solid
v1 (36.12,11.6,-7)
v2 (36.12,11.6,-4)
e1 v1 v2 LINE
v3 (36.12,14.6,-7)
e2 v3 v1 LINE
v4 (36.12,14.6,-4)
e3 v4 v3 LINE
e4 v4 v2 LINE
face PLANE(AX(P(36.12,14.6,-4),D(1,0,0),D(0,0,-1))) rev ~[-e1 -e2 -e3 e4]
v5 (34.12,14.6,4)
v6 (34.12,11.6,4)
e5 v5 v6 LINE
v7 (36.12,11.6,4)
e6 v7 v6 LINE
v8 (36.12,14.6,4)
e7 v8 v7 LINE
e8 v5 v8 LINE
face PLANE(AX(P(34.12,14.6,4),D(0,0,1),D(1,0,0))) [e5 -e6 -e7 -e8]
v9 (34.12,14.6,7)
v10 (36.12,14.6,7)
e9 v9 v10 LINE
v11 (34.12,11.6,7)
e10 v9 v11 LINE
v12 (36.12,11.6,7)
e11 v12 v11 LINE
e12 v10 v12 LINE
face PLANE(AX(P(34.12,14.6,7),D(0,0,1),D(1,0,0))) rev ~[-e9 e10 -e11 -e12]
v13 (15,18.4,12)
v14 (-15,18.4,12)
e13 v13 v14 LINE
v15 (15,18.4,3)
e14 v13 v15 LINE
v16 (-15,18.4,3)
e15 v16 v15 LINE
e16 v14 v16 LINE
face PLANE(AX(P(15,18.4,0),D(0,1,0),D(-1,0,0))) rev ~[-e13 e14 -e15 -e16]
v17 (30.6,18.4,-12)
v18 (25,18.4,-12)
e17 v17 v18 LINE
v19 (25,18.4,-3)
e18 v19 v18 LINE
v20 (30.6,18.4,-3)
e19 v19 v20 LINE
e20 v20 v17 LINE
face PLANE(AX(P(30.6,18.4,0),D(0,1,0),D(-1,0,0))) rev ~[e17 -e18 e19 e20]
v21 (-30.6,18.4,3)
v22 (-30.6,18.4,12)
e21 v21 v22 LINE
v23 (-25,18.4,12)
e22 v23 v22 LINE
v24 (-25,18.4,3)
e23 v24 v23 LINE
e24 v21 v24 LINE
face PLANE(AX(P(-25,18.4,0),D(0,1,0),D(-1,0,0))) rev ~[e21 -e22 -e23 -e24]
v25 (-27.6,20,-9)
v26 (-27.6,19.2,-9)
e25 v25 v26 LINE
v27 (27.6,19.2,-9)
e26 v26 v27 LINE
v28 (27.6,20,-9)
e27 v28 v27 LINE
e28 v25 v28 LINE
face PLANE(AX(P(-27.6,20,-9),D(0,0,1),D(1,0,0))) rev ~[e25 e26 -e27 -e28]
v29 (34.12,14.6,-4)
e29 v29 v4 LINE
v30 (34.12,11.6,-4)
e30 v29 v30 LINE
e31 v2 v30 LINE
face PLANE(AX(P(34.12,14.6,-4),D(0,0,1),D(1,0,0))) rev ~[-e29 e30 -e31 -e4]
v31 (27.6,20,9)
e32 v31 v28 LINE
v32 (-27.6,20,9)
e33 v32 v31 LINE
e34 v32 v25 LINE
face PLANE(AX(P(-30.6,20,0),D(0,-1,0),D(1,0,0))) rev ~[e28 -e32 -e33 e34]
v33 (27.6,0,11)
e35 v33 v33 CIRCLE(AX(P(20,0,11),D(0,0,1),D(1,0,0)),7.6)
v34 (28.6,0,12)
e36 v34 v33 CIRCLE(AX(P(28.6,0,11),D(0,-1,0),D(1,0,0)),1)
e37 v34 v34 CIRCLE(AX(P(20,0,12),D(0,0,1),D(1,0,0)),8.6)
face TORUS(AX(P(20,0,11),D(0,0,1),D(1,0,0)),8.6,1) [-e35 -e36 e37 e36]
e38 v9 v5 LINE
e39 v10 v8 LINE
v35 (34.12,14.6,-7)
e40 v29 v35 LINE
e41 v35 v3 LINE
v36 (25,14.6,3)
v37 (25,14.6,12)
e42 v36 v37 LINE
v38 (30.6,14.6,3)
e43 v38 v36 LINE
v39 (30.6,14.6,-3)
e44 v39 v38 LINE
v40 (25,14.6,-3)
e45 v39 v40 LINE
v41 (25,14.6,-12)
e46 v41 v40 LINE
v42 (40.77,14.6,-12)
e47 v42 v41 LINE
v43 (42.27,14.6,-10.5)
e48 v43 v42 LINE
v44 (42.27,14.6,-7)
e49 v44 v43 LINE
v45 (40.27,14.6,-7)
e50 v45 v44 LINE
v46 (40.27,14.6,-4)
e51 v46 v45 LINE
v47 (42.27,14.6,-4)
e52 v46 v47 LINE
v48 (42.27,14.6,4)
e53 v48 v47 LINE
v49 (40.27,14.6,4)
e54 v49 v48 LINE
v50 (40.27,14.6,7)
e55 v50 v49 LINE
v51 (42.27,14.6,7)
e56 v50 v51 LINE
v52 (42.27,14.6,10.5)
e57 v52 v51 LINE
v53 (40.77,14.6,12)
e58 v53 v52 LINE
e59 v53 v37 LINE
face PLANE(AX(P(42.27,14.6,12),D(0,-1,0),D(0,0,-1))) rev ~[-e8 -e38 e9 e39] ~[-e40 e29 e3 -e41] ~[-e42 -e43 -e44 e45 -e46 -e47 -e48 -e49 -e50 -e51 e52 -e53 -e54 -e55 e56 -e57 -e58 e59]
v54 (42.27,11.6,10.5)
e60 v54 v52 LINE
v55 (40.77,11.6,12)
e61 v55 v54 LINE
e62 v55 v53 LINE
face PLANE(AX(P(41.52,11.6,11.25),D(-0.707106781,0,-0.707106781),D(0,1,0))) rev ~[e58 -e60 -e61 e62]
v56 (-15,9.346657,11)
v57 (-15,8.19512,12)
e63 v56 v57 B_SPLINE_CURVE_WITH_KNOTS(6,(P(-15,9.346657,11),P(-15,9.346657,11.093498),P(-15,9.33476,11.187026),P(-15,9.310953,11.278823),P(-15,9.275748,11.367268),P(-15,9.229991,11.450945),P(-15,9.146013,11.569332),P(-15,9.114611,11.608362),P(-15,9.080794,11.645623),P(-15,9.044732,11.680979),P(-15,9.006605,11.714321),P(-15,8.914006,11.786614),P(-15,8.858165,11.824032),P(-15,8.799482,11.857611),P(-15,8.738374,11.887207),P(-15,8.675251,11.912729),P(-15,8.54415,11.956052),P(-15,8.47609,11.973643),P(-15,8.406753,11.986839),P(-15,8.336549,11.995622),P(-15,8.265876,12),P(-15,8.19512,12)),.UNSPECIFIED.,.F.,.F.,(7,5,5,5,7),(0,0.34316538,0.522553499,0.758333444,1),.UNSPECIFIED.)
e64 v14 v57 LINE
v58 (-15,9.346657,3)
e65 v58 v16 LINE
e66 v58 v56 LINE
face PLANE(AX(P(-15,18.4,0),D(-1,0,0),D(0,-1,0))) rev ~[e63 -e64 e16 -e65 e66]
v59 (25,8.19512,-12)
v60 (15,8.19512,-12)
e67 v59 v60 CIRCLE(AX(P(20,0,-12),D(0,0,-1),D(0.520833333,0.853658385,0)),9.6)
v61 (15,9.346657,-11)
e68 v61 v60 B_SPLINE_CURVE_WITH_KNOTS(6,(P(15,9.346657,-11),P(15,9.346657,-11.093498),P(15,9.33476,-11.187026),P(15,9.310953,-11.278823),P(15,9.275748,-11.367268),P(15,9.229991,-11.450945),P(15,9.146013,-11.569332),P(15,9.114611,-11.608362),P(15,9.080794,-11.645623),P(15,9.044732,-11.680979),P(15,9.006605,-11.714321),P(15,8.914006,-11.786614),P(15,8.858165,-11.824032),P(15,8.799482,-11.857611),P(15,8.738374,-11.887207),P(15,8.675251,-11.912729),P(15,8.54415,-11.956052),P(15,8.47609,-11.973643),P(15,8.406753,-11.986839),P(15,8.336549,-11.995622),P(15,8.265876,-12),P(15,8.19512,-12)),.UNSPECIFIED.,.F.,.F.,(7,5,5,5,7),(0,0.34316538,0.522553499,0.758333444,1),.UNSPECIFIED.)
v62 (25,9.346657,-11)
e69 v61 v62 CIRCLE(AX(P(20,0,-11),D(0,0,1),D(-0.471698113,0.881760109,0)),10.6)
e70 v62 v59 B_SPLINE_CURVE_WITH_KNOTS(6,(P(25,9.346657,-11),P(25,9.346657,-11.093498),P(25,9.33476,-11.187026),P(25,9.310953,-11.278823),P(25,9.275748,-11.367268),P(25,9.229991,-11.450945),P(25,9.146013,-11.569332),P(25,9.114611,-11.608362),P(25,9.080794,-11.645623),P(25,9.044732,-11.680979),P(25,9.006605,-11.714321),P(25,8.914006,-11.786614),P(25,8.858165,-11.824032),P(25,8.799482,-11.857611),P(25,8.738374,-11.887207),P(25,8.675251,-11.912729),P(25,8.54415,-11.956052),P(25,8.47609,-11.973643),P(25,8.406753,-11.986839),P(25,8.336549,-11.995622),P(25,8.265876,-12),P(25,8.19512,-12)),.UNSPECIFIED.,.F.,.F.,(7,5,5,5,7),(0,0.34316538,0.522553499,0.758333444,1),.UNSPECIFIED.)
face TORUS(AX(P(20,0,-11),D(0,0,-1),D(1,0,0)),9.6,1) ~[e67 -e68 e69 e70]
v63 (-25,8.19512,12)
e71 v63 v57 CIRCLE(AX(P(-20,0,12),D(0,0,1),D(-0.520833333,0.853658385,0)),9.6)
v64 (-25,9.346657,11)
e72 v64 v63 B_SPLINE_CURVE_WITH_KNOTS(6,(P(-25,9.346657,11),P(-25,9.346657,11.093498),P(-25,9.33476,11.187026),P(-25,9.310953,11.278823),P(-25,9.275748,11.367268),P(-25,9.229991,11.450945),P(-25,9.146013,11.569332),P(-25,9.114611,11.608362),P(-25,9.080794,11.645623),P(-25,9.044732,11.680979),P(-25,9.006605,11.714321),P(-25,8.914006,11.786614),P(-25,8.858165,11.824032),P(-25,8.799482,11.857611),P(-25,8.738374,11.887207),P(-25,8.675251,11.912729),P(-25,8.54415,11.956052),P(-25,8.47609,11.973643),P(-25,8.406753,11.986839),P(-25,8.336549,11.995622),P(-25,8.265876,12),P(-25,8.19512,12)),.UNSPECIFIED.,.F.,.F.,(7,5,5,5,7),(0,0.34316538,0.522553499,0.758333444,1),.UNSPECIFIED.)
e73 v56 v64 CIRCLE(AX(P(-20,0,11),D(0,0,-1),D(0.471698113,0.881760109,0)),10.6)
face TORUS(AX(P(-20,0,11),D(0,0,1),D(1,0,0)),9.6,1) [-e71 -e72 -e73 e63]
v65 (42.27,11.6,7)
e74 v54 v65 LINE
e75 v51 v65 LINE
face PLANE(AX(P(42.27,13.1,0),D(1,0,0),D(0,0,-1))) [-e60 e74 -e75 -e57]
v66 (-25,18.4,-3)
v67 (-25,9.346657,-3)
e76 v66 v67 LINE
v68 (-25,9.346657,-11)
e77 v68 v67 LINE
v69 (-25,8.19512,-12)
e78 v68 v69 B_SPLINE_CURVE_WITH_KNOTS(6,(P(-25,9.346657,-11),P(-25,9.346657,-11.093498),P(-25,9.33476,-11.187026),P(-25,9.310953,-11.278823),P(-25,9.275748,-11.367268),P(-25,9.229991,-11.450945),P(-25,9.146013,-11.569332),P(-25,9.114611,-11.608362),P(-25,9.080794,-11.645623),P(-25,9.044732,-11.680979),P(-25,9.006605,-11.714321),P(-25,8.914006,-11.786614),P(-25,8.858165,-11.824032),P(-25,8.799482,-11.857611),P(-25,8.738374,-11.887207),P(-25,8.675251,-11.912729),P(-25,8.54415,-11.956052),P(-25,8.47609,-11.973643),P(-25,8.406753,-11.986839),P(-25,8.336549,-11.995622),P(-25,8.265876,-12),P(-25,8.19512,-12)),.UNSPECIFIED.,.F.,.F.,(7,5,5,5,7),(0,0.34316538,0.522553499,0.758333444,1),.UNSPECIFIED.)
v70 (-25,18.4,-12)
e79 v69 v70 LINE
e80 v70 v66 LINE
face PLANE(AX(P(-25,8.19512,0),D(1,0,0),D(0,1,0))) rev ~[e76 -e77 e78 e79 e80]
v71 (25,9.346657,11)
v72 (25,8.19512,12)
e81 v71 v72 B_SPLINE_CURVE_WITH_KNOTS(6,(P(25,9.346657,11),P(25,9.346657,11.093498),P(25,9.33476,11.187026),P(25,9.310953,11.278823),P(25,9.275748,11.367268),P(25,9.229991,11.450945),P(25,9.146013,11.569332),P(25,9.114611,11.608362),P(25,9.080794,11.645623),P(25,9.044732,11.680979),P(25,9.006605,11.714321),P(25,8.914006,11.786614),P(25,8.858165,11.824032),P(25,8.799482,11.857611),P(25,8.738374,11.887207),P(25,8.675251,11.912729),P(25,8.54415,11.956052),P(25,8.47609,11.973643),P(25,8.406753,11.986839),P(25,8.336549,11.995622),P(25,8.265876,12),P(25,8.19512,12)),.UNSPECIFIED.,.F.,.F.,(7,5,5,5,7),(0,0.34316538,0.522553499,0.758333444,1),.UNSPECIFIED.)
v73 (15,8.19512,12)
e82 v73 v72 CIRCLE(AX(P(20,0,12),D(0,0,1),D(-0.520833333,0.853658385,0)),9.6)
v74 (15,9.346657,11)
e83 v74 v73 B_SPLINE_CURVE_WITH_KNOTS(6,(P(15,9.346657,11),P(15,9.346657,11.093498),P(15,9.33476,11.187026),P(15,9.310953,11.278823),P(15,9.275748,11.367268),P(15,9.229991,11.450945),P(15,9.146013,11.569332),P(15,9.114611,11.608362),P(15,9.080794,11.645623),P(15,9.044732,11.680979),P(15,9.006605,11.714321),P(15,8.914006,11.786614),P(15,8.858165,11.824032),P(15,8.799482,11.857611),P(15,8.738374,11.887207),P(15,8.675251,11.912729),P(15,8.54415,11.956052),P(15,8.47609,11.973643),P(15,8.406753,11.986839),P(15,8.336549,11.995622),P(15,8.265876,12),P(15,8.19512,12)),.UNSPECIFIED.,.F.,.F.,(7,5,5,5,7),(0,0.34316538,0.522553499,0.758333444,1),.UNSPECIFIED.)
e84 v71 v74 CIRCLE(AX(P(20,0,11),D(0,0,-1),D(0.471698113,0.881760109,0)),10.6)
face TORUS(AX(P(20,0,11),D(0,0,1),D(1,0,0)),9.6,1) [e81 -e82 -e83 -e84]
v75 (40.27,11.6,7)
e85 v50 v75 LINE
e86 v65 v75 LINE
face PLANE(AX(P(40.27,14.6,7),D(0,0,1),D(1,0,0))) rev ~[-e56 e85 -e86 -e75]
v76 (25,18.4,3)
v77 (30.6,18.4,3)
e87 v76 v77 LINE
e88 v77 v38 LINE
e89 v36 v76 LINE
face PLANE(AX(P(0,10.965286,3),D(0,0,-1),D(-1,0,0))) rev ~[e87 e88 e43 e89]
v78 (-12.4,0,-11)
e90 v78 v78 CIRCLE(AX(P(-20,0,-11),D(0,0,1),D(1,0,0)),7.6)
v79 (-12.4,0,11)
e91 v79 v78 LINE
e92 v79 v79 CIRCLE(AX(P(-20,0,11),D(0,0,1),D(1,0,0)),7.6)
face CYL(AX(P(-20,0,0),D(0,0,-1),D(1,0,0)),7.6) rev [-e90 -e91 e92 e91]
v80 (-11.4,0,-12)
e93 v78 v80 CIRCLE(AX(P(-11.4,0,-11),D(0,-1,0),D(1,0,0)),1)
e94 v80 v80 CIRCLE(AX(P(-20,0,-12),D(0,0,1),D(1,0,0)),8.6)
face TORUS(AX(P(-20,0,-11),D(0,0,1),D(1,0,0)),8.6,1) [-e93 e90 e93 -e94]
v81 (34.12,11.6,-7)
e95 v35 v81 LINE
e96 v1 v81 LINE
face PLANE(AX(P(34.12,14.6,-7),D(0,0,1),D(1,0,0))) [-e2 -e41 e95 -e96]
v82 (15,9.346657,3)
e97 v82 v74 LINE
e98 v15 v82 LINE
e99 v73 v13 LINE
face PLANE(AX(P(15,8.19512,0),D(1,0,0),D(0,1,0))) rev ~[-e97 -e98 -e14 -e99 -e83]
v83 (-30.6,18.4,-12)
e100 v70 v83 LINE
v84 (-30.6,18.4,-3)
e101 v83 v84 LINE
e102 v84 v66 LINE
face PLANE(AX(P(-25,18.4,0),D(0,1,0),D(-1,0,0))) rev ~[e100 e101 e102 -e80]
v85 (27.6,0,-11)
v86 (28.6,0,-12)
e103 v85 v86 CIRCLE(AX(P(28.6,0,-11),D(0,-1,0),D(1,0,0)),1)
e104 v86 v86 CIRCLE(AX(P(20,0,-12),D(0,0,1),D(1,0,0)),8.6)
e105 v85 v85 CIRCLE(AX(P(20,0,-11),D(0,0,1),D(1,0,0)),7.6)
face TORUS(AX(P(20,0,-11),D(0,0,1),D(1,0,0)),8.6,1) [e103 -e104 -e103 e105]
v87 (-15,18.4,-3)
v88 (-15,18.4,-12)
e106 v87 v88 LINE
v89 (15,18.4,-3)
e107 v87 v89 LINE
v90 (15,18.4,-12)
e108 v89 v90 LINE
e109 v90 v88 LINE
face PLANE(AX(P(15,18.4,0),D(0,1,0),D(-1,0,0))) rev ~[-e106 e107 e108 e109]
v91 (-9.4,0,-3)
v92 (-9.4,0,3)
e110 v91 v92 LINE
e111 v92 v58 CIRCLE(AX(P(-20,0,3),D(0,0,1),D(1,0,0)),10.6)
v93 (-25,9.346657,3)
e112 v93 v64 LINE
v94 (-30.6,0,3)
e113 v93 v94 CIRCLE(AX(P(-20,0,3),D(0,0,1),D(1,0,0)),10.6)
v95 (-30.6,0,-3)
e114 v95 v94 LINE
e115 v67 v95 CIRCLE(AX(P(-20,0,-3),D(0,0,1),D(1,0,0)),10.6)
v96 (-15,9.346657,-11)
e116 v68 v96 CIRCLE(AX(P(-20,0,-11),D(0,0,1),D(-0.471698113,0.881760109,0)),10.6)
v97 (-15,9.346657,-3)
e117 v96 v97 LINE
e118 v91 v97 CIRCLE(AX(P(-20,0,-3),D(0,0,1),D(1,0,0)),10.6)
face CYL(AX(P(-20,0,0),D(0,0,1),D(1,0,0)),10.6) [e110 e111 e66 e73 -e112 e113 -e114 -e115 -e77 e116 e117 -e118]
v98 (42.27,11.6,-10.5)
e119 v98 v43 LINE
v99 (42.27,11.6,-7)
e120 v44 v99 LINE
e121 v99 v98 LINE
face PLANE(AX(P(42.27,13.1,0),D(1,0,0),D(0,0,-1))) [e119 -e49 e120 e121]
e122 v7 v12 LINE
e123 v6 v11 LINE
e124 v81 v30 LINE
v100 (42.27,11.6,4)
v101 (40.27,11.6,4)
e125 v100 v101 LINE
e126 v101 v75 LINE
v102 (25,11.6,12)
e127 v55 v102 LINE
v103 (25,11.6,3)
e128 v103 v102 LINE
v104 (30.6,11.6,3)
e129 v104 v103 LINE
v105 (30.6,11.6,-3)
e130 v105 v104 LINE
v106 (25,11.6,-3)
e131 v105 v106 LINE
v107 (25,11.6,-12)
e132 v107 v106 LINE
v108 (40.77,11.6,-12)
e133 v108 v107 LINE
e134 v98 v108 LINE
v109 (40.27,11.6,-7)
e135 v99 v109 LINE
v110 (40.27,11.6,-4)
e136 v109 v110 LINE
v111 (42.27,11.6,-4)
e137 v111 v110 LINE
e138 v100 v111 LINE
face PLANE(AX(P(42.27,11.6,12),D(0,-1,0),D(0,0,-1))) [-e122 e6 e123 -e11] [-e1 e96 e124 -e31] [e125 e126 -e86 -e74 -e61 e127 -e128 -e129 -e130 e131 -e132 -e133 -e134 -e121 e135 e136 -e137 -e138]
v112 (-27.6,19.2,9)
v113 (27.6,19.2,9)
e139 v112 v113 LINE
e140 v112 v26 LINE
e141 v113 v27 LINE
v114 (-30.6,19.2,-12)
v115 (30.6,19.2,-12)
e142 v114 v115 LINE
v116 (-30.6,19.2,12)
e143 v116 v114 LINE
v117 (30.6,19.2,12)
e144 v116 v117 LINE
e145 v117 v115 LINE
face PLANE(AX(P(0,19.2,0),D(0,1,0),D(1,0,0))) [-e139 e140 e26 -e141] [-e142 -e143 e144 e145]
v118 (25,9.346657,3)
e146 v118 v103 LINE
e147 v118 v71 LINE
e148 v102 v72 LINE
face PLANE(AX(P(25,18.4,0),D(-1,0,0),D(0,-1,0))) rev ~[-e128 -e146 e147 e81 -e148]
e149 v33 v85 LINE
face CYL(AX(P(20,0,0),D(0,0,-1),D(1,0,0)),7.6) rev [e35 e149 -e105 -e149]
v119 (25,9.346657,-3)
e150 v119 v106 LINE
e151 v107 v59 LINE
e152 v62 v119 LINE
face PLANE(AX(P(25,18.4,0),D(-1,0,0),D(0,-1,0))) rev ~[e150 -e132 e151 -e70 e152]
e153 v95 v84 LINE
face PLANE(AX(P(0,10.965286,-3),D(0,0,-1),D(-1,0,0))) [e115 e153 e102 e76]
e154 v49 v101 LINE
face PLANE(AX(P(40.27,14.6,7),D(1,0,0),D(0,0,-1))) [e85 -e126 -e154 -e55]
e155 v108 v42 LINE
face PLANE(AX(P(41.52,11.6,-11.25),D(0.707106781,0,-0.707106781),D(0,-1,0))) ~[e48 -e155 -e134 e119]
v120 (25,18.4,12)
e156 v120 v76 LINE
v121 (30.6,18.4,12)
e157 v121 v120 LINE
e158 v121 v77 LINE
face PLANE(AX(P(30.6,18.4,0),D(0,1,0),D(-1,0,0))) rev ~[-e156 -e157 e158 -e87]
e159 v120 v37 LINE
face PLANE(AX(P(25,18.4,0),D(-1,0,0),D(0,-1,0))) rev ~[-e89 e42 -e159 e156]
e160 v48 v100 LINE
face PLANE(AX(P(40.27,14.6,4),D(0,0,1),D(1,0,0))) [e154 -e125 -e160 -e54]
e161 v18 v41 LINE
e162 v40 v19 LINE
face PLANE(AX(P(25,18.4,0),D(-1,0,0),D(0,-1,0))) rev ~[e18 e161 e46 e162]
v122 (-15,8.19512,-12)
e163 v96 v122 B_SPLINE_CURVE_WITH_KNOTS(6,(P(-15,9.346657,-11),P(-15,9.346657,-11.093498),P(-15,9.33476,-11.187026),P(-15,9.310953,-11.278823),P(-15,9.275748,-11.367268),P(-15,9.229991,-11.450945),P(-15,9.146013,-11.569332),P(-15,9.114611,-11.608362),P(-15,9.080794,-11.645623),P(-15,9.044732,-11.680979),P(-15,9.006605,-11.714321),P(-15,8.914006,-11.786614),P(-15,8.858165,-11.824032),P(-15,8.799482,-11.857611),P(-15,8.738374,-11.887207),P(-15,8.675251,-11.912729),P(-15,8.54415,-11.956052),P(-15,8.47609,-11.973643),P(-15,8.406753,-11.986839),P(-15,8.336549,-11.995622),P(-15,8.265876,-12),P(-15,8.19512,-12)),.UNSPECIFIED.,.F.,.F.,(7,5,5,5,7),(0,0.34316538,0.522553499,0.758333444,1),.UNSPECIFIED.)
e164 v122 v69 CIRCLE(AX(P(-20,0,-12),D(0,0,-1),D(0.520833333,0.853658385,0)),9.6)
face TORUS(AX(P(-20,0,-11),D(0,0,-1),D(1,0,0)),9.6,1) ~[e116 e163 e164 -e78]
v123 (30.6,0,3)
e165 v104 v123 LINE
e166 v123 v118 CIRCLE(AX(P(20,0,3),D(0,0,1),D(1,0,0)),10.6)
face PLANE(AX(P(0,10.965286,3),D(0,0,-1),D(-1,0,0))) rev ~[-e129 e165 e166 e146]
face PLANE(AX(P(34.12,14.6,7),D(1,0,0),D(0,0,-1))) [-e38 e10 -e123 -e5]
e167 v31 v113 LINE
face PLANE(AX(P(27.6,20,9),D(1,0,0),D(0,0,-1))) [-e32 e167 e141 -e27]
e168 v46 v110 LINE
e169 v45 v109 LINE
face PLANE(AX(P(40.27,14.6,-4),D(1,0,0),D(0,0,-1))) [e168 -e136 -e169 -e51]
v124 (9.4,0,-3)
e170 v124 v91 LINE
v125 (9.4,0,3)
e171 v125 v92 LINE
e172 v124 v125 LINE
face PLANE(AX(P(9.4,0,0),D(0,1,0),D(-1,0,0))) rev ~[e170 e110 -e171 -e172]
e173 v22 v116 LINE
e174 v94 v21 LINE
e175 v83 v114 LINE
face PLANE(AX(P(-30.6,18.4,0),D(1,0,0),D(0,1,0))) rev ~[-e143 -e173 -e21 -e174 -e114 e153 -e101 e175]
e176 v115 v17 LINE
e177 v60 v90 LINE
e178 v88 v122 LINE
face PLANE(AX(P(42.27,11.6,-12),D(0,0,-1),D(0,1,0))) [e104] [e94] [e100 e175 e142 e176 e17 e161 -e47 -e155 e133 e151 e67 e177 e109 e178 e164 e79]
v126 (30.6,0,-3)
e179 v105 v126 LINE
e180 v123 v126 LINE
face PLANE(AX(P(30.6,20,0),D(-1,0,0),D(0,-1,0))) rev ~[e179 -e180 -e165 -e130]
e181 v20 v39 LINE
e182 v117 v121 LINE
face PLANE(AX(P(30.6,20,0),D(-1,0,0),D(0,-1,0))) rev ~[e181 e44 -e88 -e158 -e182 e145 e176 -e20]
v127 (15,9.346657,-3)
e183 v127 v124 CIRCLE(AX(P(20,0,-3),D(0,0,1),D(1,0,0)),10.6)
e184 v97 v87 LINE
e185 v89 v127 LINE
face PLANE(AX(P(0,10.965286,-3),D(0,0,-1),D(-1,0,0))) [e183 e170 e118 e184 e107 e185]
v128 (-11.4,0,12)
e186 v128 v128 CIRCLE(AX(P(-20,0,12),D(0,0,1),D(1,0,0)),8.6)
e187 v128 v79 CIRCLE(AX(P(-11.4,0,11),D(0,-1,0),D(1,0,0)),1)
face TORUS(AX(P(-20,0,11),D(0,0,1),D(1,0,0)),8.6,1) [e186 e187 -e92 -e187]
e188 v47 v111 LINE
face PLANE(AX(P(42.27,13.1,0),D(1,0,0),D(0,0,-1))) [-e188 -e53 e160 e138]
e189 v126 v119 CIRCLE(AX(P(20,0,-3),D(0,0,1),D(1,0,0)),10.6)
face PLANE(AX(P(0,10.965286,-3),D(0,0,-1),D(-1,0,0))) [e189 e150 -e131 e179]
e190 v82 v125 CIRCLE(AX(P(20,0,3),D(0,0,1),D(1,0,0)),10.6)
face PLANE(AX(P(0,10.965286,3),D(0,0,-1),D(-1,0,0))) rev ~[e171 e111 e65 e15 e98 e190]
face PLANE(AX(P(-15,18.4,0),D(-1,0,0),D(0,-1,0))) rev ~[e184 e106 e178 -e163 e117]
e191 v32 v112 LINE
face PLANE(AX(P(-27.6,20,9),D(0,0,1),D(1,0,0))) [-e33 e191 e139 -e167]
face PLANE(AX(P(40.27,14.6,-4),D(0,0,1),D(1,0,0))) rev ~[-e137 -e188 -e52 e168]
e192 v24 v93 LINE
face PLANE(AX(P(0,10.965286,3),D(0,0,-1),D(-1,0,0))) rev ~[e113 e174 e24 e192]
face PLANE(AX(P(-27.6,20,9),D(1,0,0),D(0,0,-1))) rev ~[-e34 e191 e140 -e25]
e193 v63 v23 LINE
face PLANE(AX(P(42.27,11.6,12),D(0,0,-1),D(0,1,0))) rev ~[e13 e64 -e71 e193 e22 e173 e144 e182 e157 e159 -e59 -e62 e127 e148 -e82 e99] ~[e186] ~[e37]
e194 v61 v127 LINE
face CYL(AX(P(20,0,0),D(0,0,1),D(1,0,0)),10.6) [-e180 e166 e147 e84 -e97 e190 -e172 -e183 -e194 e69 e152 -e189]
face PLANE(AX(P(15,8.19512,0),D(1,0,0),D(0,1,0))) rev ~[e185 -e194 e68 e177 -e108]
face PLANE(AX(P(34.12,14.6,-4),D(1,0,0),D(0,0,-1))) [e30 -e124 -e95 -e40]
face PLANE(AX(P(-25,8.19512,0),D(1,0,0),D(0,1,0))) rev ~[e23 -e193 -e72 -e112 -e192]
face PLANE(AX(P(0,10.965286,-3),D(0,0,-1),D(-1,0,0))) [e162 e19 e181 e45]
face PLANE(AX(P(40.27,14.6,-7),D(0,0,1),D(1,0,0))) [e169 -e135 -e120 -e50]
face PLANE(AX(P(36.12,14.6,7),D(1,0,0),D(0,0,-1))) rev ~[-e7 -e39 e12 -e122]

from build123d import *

# Parameters (mm, degrees)
ESBO_O1_R                  = 10.6
ESBO_O1_R_2                = 7.6
RESSALTO_EXTRUS_O1_DEPTH   = 12
RESSALTO_EXTRUS_O1_2_DEPTH = 12
FILETE1_R                  = 1
FILETE2_R                  = 1
RESSALTO_EXTRUS_O2_DEPTH   = 3
RESSALTO_EXTRUS_O3_DEPTH   = 12
ESBO_O5_W                  = 61.2
ESBO_O5_H                  = 24
ESBO_O5_W_2                = 55.2
ESBO_O5_H_2                = 18
CORTE_EXTRUS_O1_DEPTH      = 0.8
ESBO_O6_W                  = 24
ESBO_O6_H                  = 3
RESSALTO_EXTRUS_O4_DEPTH   = 22
ESBO_O9_W                  = 2
ESBO_O9_H                  = 3
CORTE_EXTRUS_O2_DEPTH      = 10
CHANFRO1_SIZE              = 1.5


with BuildPart() as part:
    # Esboço1 → Ressalto-extrusão1 (new, symmetric)
    with BuildSketch(Plane.XY):
        with Locations((-20, 0)):
            Circle(ESBO_O1_R)
        with Locations((-20, 0)):
            Circle(ESBO_O1_R_2, mode=Mode.SUBTRACT)
    extrude(amount=RESSALTO_EXTRUS_O1_DEPTH, both=True)

    # Filete1
    filete1_edges = [part.edges().sort_by_distance(p)[0] for p in [
        (-30.6, 0, -12),
        (-30.6, 0, 12),
        (-27.6, 0, -12),
        (-27.6, 0, 12),
    ]]
    fillet(filete1_edges, radius=FILETE1_R)



with BuildPart() as body_2:
    # Esboço1 → Ressalto-extrus_o1 2 (new, symmetric)
    with BuildSketch(Plane.XY):
        with Locations((20, 0)):
            Circle(ESBO_O1_R)
        with Locations((20, 0)):
            Circle(ESBO_O1_R_2, mode=Mode.SUBTRACT)
    extrude(amount=RESSALTO_EXTRUS_O1_2_DEPTH, both=True)

    # Filete2
    filete2_edges = [body_2.edges().sort_by_distance(p)[0] for p in [
        (12.4, 0, -12),
        (12.4, 0, 12),
        (9.4, 0, -12),
        (9.4, 0, 12),
    ]]
    fillet(filete2_edges, radius=FILETE2_R)


with BuildPart() as part_1:
    add(part.part)

    add(body_2.part)  # Ressalto-extrusão2 merges body 2
    # Esboço2 → Ressalto-extrusão2 (add, symmetric)
    with BuildSketch(Plane.XY):
        with BuildLine():
            Line((-30.6, 0), (-30.6, 20))
            Line((-30.6, 20), (30.6, 20))
            Line((30.6, 20), (30.6, 0))
            ThreePointArc((30.6, 0), (20, 10.6), (9.4, 0))
            Line((9.4, 0), (-9.4, 0))
            ThreePointArc((-9.4, 0), (-20, 10.6), (-30.6, 0))
        make_face()
    extrude(amount=RESSALTO_EXTRUS_O2_DEPTH, both=True)

    # Esboço3 → Ressalto-extrusão3 (add, symmetric)
    with BuildSketch(Plane.XY):
        with BuildLine():
            Line((-30.6, 20), (30.6, 20))
            Line((30.6, 20), (30.6, 18.4))
            Line((30.6, 18.4), (25, 18.4))
            Line((25, 18.4), (25, 8.195120499))
            ThreePointArc((25, 8.195120499), (20, 9.6), (15, 8.195120499))
            Line((15, 8.195120499), (15, 18.4))
            Line((15, 18.4), (-15, 18.4))
            Line((-15, 18.4), (-15, 8.195120499))
            ThreePointArc((-15, 8.195120499), (-20, 9.6), (-25, 8.195120499))
            Line((-25, 8.195120499), (-25, 18.4))
            Line((-25, 18.4), (-30.6, 18.4))
            Line((-30.6, 18.4), (-30.6, 20))
        make_face()
    extrude(amount=RESSALTO_EXTRUS_O3_DEPTH, both=True)

    # Esboço5 → Corte-extrusão1 (cut)
    with BuildSketch(Plane(origin=(0, 20, 0), x_dir=(1, 0, 0), z_dir=(0, 1, 0))):
        Rectangle(ESBO_O5_W, ESBO_O5_H)
        Rectangle(ESBO_O5_W_2, ESBO_O5_H_2, mode=Mode.SUBTRACT)
    extrude(amount=-CORTE_EXTRUS_O1_DEPTH, mode=Mode.SUBTRACT)

    # Esboço6 → Ressalto-extrusão4 (add)
    with BuildSketch(Plane(origin=(42.27, 0, 0), x_dir=(0, 0, -1), z_dir=(1, 0, 0))):
        with Locations((0, 13.1)):
            Rectangle(ESBO_O6_W, ESBO_O6_H)
    extrude(amount=-RESSALTO_EXTRUS_O4_DEPTH)

    # Esboço9 → Corte-extrusão2 (cut)
    with BuildSketch(Plane(origin=(0, 14.6, 0), x_dir=(1, 0, 0), z_dir=(0, 1, 0))):
        with Locations((41.27, 5.5)):
            Rectangle(ESBO_O9_W, ESBO_O9_H)
        with Locations((41.27, -5.5)):
            Rectangle(ESBO_O9_W, ESBO_O9_H)
        with Locations((35.12, 5.5)):
            Rectangle(ESBO_O9_W, ESBO_O9_H)
        with Locations((35.12, -5.5)):
            Rectangle(ESBO_O9_W, ESBO_O9_H)
    extrude(amount=-CORTE_EXTRUS_O2_DEPTH, mode=Mode.SUBTRACT)

    # Chanfro1
    chanfro1_edges = [part_1.edges().sort_by_distance(p)[0] for p in [
        (42.27, 13.1, -12),
        (42.27, 13.1, 12),
    ]]
    chamfer(chanfro1_edges, length=CHANFRO1_SIZE)


solid = part_1.part
